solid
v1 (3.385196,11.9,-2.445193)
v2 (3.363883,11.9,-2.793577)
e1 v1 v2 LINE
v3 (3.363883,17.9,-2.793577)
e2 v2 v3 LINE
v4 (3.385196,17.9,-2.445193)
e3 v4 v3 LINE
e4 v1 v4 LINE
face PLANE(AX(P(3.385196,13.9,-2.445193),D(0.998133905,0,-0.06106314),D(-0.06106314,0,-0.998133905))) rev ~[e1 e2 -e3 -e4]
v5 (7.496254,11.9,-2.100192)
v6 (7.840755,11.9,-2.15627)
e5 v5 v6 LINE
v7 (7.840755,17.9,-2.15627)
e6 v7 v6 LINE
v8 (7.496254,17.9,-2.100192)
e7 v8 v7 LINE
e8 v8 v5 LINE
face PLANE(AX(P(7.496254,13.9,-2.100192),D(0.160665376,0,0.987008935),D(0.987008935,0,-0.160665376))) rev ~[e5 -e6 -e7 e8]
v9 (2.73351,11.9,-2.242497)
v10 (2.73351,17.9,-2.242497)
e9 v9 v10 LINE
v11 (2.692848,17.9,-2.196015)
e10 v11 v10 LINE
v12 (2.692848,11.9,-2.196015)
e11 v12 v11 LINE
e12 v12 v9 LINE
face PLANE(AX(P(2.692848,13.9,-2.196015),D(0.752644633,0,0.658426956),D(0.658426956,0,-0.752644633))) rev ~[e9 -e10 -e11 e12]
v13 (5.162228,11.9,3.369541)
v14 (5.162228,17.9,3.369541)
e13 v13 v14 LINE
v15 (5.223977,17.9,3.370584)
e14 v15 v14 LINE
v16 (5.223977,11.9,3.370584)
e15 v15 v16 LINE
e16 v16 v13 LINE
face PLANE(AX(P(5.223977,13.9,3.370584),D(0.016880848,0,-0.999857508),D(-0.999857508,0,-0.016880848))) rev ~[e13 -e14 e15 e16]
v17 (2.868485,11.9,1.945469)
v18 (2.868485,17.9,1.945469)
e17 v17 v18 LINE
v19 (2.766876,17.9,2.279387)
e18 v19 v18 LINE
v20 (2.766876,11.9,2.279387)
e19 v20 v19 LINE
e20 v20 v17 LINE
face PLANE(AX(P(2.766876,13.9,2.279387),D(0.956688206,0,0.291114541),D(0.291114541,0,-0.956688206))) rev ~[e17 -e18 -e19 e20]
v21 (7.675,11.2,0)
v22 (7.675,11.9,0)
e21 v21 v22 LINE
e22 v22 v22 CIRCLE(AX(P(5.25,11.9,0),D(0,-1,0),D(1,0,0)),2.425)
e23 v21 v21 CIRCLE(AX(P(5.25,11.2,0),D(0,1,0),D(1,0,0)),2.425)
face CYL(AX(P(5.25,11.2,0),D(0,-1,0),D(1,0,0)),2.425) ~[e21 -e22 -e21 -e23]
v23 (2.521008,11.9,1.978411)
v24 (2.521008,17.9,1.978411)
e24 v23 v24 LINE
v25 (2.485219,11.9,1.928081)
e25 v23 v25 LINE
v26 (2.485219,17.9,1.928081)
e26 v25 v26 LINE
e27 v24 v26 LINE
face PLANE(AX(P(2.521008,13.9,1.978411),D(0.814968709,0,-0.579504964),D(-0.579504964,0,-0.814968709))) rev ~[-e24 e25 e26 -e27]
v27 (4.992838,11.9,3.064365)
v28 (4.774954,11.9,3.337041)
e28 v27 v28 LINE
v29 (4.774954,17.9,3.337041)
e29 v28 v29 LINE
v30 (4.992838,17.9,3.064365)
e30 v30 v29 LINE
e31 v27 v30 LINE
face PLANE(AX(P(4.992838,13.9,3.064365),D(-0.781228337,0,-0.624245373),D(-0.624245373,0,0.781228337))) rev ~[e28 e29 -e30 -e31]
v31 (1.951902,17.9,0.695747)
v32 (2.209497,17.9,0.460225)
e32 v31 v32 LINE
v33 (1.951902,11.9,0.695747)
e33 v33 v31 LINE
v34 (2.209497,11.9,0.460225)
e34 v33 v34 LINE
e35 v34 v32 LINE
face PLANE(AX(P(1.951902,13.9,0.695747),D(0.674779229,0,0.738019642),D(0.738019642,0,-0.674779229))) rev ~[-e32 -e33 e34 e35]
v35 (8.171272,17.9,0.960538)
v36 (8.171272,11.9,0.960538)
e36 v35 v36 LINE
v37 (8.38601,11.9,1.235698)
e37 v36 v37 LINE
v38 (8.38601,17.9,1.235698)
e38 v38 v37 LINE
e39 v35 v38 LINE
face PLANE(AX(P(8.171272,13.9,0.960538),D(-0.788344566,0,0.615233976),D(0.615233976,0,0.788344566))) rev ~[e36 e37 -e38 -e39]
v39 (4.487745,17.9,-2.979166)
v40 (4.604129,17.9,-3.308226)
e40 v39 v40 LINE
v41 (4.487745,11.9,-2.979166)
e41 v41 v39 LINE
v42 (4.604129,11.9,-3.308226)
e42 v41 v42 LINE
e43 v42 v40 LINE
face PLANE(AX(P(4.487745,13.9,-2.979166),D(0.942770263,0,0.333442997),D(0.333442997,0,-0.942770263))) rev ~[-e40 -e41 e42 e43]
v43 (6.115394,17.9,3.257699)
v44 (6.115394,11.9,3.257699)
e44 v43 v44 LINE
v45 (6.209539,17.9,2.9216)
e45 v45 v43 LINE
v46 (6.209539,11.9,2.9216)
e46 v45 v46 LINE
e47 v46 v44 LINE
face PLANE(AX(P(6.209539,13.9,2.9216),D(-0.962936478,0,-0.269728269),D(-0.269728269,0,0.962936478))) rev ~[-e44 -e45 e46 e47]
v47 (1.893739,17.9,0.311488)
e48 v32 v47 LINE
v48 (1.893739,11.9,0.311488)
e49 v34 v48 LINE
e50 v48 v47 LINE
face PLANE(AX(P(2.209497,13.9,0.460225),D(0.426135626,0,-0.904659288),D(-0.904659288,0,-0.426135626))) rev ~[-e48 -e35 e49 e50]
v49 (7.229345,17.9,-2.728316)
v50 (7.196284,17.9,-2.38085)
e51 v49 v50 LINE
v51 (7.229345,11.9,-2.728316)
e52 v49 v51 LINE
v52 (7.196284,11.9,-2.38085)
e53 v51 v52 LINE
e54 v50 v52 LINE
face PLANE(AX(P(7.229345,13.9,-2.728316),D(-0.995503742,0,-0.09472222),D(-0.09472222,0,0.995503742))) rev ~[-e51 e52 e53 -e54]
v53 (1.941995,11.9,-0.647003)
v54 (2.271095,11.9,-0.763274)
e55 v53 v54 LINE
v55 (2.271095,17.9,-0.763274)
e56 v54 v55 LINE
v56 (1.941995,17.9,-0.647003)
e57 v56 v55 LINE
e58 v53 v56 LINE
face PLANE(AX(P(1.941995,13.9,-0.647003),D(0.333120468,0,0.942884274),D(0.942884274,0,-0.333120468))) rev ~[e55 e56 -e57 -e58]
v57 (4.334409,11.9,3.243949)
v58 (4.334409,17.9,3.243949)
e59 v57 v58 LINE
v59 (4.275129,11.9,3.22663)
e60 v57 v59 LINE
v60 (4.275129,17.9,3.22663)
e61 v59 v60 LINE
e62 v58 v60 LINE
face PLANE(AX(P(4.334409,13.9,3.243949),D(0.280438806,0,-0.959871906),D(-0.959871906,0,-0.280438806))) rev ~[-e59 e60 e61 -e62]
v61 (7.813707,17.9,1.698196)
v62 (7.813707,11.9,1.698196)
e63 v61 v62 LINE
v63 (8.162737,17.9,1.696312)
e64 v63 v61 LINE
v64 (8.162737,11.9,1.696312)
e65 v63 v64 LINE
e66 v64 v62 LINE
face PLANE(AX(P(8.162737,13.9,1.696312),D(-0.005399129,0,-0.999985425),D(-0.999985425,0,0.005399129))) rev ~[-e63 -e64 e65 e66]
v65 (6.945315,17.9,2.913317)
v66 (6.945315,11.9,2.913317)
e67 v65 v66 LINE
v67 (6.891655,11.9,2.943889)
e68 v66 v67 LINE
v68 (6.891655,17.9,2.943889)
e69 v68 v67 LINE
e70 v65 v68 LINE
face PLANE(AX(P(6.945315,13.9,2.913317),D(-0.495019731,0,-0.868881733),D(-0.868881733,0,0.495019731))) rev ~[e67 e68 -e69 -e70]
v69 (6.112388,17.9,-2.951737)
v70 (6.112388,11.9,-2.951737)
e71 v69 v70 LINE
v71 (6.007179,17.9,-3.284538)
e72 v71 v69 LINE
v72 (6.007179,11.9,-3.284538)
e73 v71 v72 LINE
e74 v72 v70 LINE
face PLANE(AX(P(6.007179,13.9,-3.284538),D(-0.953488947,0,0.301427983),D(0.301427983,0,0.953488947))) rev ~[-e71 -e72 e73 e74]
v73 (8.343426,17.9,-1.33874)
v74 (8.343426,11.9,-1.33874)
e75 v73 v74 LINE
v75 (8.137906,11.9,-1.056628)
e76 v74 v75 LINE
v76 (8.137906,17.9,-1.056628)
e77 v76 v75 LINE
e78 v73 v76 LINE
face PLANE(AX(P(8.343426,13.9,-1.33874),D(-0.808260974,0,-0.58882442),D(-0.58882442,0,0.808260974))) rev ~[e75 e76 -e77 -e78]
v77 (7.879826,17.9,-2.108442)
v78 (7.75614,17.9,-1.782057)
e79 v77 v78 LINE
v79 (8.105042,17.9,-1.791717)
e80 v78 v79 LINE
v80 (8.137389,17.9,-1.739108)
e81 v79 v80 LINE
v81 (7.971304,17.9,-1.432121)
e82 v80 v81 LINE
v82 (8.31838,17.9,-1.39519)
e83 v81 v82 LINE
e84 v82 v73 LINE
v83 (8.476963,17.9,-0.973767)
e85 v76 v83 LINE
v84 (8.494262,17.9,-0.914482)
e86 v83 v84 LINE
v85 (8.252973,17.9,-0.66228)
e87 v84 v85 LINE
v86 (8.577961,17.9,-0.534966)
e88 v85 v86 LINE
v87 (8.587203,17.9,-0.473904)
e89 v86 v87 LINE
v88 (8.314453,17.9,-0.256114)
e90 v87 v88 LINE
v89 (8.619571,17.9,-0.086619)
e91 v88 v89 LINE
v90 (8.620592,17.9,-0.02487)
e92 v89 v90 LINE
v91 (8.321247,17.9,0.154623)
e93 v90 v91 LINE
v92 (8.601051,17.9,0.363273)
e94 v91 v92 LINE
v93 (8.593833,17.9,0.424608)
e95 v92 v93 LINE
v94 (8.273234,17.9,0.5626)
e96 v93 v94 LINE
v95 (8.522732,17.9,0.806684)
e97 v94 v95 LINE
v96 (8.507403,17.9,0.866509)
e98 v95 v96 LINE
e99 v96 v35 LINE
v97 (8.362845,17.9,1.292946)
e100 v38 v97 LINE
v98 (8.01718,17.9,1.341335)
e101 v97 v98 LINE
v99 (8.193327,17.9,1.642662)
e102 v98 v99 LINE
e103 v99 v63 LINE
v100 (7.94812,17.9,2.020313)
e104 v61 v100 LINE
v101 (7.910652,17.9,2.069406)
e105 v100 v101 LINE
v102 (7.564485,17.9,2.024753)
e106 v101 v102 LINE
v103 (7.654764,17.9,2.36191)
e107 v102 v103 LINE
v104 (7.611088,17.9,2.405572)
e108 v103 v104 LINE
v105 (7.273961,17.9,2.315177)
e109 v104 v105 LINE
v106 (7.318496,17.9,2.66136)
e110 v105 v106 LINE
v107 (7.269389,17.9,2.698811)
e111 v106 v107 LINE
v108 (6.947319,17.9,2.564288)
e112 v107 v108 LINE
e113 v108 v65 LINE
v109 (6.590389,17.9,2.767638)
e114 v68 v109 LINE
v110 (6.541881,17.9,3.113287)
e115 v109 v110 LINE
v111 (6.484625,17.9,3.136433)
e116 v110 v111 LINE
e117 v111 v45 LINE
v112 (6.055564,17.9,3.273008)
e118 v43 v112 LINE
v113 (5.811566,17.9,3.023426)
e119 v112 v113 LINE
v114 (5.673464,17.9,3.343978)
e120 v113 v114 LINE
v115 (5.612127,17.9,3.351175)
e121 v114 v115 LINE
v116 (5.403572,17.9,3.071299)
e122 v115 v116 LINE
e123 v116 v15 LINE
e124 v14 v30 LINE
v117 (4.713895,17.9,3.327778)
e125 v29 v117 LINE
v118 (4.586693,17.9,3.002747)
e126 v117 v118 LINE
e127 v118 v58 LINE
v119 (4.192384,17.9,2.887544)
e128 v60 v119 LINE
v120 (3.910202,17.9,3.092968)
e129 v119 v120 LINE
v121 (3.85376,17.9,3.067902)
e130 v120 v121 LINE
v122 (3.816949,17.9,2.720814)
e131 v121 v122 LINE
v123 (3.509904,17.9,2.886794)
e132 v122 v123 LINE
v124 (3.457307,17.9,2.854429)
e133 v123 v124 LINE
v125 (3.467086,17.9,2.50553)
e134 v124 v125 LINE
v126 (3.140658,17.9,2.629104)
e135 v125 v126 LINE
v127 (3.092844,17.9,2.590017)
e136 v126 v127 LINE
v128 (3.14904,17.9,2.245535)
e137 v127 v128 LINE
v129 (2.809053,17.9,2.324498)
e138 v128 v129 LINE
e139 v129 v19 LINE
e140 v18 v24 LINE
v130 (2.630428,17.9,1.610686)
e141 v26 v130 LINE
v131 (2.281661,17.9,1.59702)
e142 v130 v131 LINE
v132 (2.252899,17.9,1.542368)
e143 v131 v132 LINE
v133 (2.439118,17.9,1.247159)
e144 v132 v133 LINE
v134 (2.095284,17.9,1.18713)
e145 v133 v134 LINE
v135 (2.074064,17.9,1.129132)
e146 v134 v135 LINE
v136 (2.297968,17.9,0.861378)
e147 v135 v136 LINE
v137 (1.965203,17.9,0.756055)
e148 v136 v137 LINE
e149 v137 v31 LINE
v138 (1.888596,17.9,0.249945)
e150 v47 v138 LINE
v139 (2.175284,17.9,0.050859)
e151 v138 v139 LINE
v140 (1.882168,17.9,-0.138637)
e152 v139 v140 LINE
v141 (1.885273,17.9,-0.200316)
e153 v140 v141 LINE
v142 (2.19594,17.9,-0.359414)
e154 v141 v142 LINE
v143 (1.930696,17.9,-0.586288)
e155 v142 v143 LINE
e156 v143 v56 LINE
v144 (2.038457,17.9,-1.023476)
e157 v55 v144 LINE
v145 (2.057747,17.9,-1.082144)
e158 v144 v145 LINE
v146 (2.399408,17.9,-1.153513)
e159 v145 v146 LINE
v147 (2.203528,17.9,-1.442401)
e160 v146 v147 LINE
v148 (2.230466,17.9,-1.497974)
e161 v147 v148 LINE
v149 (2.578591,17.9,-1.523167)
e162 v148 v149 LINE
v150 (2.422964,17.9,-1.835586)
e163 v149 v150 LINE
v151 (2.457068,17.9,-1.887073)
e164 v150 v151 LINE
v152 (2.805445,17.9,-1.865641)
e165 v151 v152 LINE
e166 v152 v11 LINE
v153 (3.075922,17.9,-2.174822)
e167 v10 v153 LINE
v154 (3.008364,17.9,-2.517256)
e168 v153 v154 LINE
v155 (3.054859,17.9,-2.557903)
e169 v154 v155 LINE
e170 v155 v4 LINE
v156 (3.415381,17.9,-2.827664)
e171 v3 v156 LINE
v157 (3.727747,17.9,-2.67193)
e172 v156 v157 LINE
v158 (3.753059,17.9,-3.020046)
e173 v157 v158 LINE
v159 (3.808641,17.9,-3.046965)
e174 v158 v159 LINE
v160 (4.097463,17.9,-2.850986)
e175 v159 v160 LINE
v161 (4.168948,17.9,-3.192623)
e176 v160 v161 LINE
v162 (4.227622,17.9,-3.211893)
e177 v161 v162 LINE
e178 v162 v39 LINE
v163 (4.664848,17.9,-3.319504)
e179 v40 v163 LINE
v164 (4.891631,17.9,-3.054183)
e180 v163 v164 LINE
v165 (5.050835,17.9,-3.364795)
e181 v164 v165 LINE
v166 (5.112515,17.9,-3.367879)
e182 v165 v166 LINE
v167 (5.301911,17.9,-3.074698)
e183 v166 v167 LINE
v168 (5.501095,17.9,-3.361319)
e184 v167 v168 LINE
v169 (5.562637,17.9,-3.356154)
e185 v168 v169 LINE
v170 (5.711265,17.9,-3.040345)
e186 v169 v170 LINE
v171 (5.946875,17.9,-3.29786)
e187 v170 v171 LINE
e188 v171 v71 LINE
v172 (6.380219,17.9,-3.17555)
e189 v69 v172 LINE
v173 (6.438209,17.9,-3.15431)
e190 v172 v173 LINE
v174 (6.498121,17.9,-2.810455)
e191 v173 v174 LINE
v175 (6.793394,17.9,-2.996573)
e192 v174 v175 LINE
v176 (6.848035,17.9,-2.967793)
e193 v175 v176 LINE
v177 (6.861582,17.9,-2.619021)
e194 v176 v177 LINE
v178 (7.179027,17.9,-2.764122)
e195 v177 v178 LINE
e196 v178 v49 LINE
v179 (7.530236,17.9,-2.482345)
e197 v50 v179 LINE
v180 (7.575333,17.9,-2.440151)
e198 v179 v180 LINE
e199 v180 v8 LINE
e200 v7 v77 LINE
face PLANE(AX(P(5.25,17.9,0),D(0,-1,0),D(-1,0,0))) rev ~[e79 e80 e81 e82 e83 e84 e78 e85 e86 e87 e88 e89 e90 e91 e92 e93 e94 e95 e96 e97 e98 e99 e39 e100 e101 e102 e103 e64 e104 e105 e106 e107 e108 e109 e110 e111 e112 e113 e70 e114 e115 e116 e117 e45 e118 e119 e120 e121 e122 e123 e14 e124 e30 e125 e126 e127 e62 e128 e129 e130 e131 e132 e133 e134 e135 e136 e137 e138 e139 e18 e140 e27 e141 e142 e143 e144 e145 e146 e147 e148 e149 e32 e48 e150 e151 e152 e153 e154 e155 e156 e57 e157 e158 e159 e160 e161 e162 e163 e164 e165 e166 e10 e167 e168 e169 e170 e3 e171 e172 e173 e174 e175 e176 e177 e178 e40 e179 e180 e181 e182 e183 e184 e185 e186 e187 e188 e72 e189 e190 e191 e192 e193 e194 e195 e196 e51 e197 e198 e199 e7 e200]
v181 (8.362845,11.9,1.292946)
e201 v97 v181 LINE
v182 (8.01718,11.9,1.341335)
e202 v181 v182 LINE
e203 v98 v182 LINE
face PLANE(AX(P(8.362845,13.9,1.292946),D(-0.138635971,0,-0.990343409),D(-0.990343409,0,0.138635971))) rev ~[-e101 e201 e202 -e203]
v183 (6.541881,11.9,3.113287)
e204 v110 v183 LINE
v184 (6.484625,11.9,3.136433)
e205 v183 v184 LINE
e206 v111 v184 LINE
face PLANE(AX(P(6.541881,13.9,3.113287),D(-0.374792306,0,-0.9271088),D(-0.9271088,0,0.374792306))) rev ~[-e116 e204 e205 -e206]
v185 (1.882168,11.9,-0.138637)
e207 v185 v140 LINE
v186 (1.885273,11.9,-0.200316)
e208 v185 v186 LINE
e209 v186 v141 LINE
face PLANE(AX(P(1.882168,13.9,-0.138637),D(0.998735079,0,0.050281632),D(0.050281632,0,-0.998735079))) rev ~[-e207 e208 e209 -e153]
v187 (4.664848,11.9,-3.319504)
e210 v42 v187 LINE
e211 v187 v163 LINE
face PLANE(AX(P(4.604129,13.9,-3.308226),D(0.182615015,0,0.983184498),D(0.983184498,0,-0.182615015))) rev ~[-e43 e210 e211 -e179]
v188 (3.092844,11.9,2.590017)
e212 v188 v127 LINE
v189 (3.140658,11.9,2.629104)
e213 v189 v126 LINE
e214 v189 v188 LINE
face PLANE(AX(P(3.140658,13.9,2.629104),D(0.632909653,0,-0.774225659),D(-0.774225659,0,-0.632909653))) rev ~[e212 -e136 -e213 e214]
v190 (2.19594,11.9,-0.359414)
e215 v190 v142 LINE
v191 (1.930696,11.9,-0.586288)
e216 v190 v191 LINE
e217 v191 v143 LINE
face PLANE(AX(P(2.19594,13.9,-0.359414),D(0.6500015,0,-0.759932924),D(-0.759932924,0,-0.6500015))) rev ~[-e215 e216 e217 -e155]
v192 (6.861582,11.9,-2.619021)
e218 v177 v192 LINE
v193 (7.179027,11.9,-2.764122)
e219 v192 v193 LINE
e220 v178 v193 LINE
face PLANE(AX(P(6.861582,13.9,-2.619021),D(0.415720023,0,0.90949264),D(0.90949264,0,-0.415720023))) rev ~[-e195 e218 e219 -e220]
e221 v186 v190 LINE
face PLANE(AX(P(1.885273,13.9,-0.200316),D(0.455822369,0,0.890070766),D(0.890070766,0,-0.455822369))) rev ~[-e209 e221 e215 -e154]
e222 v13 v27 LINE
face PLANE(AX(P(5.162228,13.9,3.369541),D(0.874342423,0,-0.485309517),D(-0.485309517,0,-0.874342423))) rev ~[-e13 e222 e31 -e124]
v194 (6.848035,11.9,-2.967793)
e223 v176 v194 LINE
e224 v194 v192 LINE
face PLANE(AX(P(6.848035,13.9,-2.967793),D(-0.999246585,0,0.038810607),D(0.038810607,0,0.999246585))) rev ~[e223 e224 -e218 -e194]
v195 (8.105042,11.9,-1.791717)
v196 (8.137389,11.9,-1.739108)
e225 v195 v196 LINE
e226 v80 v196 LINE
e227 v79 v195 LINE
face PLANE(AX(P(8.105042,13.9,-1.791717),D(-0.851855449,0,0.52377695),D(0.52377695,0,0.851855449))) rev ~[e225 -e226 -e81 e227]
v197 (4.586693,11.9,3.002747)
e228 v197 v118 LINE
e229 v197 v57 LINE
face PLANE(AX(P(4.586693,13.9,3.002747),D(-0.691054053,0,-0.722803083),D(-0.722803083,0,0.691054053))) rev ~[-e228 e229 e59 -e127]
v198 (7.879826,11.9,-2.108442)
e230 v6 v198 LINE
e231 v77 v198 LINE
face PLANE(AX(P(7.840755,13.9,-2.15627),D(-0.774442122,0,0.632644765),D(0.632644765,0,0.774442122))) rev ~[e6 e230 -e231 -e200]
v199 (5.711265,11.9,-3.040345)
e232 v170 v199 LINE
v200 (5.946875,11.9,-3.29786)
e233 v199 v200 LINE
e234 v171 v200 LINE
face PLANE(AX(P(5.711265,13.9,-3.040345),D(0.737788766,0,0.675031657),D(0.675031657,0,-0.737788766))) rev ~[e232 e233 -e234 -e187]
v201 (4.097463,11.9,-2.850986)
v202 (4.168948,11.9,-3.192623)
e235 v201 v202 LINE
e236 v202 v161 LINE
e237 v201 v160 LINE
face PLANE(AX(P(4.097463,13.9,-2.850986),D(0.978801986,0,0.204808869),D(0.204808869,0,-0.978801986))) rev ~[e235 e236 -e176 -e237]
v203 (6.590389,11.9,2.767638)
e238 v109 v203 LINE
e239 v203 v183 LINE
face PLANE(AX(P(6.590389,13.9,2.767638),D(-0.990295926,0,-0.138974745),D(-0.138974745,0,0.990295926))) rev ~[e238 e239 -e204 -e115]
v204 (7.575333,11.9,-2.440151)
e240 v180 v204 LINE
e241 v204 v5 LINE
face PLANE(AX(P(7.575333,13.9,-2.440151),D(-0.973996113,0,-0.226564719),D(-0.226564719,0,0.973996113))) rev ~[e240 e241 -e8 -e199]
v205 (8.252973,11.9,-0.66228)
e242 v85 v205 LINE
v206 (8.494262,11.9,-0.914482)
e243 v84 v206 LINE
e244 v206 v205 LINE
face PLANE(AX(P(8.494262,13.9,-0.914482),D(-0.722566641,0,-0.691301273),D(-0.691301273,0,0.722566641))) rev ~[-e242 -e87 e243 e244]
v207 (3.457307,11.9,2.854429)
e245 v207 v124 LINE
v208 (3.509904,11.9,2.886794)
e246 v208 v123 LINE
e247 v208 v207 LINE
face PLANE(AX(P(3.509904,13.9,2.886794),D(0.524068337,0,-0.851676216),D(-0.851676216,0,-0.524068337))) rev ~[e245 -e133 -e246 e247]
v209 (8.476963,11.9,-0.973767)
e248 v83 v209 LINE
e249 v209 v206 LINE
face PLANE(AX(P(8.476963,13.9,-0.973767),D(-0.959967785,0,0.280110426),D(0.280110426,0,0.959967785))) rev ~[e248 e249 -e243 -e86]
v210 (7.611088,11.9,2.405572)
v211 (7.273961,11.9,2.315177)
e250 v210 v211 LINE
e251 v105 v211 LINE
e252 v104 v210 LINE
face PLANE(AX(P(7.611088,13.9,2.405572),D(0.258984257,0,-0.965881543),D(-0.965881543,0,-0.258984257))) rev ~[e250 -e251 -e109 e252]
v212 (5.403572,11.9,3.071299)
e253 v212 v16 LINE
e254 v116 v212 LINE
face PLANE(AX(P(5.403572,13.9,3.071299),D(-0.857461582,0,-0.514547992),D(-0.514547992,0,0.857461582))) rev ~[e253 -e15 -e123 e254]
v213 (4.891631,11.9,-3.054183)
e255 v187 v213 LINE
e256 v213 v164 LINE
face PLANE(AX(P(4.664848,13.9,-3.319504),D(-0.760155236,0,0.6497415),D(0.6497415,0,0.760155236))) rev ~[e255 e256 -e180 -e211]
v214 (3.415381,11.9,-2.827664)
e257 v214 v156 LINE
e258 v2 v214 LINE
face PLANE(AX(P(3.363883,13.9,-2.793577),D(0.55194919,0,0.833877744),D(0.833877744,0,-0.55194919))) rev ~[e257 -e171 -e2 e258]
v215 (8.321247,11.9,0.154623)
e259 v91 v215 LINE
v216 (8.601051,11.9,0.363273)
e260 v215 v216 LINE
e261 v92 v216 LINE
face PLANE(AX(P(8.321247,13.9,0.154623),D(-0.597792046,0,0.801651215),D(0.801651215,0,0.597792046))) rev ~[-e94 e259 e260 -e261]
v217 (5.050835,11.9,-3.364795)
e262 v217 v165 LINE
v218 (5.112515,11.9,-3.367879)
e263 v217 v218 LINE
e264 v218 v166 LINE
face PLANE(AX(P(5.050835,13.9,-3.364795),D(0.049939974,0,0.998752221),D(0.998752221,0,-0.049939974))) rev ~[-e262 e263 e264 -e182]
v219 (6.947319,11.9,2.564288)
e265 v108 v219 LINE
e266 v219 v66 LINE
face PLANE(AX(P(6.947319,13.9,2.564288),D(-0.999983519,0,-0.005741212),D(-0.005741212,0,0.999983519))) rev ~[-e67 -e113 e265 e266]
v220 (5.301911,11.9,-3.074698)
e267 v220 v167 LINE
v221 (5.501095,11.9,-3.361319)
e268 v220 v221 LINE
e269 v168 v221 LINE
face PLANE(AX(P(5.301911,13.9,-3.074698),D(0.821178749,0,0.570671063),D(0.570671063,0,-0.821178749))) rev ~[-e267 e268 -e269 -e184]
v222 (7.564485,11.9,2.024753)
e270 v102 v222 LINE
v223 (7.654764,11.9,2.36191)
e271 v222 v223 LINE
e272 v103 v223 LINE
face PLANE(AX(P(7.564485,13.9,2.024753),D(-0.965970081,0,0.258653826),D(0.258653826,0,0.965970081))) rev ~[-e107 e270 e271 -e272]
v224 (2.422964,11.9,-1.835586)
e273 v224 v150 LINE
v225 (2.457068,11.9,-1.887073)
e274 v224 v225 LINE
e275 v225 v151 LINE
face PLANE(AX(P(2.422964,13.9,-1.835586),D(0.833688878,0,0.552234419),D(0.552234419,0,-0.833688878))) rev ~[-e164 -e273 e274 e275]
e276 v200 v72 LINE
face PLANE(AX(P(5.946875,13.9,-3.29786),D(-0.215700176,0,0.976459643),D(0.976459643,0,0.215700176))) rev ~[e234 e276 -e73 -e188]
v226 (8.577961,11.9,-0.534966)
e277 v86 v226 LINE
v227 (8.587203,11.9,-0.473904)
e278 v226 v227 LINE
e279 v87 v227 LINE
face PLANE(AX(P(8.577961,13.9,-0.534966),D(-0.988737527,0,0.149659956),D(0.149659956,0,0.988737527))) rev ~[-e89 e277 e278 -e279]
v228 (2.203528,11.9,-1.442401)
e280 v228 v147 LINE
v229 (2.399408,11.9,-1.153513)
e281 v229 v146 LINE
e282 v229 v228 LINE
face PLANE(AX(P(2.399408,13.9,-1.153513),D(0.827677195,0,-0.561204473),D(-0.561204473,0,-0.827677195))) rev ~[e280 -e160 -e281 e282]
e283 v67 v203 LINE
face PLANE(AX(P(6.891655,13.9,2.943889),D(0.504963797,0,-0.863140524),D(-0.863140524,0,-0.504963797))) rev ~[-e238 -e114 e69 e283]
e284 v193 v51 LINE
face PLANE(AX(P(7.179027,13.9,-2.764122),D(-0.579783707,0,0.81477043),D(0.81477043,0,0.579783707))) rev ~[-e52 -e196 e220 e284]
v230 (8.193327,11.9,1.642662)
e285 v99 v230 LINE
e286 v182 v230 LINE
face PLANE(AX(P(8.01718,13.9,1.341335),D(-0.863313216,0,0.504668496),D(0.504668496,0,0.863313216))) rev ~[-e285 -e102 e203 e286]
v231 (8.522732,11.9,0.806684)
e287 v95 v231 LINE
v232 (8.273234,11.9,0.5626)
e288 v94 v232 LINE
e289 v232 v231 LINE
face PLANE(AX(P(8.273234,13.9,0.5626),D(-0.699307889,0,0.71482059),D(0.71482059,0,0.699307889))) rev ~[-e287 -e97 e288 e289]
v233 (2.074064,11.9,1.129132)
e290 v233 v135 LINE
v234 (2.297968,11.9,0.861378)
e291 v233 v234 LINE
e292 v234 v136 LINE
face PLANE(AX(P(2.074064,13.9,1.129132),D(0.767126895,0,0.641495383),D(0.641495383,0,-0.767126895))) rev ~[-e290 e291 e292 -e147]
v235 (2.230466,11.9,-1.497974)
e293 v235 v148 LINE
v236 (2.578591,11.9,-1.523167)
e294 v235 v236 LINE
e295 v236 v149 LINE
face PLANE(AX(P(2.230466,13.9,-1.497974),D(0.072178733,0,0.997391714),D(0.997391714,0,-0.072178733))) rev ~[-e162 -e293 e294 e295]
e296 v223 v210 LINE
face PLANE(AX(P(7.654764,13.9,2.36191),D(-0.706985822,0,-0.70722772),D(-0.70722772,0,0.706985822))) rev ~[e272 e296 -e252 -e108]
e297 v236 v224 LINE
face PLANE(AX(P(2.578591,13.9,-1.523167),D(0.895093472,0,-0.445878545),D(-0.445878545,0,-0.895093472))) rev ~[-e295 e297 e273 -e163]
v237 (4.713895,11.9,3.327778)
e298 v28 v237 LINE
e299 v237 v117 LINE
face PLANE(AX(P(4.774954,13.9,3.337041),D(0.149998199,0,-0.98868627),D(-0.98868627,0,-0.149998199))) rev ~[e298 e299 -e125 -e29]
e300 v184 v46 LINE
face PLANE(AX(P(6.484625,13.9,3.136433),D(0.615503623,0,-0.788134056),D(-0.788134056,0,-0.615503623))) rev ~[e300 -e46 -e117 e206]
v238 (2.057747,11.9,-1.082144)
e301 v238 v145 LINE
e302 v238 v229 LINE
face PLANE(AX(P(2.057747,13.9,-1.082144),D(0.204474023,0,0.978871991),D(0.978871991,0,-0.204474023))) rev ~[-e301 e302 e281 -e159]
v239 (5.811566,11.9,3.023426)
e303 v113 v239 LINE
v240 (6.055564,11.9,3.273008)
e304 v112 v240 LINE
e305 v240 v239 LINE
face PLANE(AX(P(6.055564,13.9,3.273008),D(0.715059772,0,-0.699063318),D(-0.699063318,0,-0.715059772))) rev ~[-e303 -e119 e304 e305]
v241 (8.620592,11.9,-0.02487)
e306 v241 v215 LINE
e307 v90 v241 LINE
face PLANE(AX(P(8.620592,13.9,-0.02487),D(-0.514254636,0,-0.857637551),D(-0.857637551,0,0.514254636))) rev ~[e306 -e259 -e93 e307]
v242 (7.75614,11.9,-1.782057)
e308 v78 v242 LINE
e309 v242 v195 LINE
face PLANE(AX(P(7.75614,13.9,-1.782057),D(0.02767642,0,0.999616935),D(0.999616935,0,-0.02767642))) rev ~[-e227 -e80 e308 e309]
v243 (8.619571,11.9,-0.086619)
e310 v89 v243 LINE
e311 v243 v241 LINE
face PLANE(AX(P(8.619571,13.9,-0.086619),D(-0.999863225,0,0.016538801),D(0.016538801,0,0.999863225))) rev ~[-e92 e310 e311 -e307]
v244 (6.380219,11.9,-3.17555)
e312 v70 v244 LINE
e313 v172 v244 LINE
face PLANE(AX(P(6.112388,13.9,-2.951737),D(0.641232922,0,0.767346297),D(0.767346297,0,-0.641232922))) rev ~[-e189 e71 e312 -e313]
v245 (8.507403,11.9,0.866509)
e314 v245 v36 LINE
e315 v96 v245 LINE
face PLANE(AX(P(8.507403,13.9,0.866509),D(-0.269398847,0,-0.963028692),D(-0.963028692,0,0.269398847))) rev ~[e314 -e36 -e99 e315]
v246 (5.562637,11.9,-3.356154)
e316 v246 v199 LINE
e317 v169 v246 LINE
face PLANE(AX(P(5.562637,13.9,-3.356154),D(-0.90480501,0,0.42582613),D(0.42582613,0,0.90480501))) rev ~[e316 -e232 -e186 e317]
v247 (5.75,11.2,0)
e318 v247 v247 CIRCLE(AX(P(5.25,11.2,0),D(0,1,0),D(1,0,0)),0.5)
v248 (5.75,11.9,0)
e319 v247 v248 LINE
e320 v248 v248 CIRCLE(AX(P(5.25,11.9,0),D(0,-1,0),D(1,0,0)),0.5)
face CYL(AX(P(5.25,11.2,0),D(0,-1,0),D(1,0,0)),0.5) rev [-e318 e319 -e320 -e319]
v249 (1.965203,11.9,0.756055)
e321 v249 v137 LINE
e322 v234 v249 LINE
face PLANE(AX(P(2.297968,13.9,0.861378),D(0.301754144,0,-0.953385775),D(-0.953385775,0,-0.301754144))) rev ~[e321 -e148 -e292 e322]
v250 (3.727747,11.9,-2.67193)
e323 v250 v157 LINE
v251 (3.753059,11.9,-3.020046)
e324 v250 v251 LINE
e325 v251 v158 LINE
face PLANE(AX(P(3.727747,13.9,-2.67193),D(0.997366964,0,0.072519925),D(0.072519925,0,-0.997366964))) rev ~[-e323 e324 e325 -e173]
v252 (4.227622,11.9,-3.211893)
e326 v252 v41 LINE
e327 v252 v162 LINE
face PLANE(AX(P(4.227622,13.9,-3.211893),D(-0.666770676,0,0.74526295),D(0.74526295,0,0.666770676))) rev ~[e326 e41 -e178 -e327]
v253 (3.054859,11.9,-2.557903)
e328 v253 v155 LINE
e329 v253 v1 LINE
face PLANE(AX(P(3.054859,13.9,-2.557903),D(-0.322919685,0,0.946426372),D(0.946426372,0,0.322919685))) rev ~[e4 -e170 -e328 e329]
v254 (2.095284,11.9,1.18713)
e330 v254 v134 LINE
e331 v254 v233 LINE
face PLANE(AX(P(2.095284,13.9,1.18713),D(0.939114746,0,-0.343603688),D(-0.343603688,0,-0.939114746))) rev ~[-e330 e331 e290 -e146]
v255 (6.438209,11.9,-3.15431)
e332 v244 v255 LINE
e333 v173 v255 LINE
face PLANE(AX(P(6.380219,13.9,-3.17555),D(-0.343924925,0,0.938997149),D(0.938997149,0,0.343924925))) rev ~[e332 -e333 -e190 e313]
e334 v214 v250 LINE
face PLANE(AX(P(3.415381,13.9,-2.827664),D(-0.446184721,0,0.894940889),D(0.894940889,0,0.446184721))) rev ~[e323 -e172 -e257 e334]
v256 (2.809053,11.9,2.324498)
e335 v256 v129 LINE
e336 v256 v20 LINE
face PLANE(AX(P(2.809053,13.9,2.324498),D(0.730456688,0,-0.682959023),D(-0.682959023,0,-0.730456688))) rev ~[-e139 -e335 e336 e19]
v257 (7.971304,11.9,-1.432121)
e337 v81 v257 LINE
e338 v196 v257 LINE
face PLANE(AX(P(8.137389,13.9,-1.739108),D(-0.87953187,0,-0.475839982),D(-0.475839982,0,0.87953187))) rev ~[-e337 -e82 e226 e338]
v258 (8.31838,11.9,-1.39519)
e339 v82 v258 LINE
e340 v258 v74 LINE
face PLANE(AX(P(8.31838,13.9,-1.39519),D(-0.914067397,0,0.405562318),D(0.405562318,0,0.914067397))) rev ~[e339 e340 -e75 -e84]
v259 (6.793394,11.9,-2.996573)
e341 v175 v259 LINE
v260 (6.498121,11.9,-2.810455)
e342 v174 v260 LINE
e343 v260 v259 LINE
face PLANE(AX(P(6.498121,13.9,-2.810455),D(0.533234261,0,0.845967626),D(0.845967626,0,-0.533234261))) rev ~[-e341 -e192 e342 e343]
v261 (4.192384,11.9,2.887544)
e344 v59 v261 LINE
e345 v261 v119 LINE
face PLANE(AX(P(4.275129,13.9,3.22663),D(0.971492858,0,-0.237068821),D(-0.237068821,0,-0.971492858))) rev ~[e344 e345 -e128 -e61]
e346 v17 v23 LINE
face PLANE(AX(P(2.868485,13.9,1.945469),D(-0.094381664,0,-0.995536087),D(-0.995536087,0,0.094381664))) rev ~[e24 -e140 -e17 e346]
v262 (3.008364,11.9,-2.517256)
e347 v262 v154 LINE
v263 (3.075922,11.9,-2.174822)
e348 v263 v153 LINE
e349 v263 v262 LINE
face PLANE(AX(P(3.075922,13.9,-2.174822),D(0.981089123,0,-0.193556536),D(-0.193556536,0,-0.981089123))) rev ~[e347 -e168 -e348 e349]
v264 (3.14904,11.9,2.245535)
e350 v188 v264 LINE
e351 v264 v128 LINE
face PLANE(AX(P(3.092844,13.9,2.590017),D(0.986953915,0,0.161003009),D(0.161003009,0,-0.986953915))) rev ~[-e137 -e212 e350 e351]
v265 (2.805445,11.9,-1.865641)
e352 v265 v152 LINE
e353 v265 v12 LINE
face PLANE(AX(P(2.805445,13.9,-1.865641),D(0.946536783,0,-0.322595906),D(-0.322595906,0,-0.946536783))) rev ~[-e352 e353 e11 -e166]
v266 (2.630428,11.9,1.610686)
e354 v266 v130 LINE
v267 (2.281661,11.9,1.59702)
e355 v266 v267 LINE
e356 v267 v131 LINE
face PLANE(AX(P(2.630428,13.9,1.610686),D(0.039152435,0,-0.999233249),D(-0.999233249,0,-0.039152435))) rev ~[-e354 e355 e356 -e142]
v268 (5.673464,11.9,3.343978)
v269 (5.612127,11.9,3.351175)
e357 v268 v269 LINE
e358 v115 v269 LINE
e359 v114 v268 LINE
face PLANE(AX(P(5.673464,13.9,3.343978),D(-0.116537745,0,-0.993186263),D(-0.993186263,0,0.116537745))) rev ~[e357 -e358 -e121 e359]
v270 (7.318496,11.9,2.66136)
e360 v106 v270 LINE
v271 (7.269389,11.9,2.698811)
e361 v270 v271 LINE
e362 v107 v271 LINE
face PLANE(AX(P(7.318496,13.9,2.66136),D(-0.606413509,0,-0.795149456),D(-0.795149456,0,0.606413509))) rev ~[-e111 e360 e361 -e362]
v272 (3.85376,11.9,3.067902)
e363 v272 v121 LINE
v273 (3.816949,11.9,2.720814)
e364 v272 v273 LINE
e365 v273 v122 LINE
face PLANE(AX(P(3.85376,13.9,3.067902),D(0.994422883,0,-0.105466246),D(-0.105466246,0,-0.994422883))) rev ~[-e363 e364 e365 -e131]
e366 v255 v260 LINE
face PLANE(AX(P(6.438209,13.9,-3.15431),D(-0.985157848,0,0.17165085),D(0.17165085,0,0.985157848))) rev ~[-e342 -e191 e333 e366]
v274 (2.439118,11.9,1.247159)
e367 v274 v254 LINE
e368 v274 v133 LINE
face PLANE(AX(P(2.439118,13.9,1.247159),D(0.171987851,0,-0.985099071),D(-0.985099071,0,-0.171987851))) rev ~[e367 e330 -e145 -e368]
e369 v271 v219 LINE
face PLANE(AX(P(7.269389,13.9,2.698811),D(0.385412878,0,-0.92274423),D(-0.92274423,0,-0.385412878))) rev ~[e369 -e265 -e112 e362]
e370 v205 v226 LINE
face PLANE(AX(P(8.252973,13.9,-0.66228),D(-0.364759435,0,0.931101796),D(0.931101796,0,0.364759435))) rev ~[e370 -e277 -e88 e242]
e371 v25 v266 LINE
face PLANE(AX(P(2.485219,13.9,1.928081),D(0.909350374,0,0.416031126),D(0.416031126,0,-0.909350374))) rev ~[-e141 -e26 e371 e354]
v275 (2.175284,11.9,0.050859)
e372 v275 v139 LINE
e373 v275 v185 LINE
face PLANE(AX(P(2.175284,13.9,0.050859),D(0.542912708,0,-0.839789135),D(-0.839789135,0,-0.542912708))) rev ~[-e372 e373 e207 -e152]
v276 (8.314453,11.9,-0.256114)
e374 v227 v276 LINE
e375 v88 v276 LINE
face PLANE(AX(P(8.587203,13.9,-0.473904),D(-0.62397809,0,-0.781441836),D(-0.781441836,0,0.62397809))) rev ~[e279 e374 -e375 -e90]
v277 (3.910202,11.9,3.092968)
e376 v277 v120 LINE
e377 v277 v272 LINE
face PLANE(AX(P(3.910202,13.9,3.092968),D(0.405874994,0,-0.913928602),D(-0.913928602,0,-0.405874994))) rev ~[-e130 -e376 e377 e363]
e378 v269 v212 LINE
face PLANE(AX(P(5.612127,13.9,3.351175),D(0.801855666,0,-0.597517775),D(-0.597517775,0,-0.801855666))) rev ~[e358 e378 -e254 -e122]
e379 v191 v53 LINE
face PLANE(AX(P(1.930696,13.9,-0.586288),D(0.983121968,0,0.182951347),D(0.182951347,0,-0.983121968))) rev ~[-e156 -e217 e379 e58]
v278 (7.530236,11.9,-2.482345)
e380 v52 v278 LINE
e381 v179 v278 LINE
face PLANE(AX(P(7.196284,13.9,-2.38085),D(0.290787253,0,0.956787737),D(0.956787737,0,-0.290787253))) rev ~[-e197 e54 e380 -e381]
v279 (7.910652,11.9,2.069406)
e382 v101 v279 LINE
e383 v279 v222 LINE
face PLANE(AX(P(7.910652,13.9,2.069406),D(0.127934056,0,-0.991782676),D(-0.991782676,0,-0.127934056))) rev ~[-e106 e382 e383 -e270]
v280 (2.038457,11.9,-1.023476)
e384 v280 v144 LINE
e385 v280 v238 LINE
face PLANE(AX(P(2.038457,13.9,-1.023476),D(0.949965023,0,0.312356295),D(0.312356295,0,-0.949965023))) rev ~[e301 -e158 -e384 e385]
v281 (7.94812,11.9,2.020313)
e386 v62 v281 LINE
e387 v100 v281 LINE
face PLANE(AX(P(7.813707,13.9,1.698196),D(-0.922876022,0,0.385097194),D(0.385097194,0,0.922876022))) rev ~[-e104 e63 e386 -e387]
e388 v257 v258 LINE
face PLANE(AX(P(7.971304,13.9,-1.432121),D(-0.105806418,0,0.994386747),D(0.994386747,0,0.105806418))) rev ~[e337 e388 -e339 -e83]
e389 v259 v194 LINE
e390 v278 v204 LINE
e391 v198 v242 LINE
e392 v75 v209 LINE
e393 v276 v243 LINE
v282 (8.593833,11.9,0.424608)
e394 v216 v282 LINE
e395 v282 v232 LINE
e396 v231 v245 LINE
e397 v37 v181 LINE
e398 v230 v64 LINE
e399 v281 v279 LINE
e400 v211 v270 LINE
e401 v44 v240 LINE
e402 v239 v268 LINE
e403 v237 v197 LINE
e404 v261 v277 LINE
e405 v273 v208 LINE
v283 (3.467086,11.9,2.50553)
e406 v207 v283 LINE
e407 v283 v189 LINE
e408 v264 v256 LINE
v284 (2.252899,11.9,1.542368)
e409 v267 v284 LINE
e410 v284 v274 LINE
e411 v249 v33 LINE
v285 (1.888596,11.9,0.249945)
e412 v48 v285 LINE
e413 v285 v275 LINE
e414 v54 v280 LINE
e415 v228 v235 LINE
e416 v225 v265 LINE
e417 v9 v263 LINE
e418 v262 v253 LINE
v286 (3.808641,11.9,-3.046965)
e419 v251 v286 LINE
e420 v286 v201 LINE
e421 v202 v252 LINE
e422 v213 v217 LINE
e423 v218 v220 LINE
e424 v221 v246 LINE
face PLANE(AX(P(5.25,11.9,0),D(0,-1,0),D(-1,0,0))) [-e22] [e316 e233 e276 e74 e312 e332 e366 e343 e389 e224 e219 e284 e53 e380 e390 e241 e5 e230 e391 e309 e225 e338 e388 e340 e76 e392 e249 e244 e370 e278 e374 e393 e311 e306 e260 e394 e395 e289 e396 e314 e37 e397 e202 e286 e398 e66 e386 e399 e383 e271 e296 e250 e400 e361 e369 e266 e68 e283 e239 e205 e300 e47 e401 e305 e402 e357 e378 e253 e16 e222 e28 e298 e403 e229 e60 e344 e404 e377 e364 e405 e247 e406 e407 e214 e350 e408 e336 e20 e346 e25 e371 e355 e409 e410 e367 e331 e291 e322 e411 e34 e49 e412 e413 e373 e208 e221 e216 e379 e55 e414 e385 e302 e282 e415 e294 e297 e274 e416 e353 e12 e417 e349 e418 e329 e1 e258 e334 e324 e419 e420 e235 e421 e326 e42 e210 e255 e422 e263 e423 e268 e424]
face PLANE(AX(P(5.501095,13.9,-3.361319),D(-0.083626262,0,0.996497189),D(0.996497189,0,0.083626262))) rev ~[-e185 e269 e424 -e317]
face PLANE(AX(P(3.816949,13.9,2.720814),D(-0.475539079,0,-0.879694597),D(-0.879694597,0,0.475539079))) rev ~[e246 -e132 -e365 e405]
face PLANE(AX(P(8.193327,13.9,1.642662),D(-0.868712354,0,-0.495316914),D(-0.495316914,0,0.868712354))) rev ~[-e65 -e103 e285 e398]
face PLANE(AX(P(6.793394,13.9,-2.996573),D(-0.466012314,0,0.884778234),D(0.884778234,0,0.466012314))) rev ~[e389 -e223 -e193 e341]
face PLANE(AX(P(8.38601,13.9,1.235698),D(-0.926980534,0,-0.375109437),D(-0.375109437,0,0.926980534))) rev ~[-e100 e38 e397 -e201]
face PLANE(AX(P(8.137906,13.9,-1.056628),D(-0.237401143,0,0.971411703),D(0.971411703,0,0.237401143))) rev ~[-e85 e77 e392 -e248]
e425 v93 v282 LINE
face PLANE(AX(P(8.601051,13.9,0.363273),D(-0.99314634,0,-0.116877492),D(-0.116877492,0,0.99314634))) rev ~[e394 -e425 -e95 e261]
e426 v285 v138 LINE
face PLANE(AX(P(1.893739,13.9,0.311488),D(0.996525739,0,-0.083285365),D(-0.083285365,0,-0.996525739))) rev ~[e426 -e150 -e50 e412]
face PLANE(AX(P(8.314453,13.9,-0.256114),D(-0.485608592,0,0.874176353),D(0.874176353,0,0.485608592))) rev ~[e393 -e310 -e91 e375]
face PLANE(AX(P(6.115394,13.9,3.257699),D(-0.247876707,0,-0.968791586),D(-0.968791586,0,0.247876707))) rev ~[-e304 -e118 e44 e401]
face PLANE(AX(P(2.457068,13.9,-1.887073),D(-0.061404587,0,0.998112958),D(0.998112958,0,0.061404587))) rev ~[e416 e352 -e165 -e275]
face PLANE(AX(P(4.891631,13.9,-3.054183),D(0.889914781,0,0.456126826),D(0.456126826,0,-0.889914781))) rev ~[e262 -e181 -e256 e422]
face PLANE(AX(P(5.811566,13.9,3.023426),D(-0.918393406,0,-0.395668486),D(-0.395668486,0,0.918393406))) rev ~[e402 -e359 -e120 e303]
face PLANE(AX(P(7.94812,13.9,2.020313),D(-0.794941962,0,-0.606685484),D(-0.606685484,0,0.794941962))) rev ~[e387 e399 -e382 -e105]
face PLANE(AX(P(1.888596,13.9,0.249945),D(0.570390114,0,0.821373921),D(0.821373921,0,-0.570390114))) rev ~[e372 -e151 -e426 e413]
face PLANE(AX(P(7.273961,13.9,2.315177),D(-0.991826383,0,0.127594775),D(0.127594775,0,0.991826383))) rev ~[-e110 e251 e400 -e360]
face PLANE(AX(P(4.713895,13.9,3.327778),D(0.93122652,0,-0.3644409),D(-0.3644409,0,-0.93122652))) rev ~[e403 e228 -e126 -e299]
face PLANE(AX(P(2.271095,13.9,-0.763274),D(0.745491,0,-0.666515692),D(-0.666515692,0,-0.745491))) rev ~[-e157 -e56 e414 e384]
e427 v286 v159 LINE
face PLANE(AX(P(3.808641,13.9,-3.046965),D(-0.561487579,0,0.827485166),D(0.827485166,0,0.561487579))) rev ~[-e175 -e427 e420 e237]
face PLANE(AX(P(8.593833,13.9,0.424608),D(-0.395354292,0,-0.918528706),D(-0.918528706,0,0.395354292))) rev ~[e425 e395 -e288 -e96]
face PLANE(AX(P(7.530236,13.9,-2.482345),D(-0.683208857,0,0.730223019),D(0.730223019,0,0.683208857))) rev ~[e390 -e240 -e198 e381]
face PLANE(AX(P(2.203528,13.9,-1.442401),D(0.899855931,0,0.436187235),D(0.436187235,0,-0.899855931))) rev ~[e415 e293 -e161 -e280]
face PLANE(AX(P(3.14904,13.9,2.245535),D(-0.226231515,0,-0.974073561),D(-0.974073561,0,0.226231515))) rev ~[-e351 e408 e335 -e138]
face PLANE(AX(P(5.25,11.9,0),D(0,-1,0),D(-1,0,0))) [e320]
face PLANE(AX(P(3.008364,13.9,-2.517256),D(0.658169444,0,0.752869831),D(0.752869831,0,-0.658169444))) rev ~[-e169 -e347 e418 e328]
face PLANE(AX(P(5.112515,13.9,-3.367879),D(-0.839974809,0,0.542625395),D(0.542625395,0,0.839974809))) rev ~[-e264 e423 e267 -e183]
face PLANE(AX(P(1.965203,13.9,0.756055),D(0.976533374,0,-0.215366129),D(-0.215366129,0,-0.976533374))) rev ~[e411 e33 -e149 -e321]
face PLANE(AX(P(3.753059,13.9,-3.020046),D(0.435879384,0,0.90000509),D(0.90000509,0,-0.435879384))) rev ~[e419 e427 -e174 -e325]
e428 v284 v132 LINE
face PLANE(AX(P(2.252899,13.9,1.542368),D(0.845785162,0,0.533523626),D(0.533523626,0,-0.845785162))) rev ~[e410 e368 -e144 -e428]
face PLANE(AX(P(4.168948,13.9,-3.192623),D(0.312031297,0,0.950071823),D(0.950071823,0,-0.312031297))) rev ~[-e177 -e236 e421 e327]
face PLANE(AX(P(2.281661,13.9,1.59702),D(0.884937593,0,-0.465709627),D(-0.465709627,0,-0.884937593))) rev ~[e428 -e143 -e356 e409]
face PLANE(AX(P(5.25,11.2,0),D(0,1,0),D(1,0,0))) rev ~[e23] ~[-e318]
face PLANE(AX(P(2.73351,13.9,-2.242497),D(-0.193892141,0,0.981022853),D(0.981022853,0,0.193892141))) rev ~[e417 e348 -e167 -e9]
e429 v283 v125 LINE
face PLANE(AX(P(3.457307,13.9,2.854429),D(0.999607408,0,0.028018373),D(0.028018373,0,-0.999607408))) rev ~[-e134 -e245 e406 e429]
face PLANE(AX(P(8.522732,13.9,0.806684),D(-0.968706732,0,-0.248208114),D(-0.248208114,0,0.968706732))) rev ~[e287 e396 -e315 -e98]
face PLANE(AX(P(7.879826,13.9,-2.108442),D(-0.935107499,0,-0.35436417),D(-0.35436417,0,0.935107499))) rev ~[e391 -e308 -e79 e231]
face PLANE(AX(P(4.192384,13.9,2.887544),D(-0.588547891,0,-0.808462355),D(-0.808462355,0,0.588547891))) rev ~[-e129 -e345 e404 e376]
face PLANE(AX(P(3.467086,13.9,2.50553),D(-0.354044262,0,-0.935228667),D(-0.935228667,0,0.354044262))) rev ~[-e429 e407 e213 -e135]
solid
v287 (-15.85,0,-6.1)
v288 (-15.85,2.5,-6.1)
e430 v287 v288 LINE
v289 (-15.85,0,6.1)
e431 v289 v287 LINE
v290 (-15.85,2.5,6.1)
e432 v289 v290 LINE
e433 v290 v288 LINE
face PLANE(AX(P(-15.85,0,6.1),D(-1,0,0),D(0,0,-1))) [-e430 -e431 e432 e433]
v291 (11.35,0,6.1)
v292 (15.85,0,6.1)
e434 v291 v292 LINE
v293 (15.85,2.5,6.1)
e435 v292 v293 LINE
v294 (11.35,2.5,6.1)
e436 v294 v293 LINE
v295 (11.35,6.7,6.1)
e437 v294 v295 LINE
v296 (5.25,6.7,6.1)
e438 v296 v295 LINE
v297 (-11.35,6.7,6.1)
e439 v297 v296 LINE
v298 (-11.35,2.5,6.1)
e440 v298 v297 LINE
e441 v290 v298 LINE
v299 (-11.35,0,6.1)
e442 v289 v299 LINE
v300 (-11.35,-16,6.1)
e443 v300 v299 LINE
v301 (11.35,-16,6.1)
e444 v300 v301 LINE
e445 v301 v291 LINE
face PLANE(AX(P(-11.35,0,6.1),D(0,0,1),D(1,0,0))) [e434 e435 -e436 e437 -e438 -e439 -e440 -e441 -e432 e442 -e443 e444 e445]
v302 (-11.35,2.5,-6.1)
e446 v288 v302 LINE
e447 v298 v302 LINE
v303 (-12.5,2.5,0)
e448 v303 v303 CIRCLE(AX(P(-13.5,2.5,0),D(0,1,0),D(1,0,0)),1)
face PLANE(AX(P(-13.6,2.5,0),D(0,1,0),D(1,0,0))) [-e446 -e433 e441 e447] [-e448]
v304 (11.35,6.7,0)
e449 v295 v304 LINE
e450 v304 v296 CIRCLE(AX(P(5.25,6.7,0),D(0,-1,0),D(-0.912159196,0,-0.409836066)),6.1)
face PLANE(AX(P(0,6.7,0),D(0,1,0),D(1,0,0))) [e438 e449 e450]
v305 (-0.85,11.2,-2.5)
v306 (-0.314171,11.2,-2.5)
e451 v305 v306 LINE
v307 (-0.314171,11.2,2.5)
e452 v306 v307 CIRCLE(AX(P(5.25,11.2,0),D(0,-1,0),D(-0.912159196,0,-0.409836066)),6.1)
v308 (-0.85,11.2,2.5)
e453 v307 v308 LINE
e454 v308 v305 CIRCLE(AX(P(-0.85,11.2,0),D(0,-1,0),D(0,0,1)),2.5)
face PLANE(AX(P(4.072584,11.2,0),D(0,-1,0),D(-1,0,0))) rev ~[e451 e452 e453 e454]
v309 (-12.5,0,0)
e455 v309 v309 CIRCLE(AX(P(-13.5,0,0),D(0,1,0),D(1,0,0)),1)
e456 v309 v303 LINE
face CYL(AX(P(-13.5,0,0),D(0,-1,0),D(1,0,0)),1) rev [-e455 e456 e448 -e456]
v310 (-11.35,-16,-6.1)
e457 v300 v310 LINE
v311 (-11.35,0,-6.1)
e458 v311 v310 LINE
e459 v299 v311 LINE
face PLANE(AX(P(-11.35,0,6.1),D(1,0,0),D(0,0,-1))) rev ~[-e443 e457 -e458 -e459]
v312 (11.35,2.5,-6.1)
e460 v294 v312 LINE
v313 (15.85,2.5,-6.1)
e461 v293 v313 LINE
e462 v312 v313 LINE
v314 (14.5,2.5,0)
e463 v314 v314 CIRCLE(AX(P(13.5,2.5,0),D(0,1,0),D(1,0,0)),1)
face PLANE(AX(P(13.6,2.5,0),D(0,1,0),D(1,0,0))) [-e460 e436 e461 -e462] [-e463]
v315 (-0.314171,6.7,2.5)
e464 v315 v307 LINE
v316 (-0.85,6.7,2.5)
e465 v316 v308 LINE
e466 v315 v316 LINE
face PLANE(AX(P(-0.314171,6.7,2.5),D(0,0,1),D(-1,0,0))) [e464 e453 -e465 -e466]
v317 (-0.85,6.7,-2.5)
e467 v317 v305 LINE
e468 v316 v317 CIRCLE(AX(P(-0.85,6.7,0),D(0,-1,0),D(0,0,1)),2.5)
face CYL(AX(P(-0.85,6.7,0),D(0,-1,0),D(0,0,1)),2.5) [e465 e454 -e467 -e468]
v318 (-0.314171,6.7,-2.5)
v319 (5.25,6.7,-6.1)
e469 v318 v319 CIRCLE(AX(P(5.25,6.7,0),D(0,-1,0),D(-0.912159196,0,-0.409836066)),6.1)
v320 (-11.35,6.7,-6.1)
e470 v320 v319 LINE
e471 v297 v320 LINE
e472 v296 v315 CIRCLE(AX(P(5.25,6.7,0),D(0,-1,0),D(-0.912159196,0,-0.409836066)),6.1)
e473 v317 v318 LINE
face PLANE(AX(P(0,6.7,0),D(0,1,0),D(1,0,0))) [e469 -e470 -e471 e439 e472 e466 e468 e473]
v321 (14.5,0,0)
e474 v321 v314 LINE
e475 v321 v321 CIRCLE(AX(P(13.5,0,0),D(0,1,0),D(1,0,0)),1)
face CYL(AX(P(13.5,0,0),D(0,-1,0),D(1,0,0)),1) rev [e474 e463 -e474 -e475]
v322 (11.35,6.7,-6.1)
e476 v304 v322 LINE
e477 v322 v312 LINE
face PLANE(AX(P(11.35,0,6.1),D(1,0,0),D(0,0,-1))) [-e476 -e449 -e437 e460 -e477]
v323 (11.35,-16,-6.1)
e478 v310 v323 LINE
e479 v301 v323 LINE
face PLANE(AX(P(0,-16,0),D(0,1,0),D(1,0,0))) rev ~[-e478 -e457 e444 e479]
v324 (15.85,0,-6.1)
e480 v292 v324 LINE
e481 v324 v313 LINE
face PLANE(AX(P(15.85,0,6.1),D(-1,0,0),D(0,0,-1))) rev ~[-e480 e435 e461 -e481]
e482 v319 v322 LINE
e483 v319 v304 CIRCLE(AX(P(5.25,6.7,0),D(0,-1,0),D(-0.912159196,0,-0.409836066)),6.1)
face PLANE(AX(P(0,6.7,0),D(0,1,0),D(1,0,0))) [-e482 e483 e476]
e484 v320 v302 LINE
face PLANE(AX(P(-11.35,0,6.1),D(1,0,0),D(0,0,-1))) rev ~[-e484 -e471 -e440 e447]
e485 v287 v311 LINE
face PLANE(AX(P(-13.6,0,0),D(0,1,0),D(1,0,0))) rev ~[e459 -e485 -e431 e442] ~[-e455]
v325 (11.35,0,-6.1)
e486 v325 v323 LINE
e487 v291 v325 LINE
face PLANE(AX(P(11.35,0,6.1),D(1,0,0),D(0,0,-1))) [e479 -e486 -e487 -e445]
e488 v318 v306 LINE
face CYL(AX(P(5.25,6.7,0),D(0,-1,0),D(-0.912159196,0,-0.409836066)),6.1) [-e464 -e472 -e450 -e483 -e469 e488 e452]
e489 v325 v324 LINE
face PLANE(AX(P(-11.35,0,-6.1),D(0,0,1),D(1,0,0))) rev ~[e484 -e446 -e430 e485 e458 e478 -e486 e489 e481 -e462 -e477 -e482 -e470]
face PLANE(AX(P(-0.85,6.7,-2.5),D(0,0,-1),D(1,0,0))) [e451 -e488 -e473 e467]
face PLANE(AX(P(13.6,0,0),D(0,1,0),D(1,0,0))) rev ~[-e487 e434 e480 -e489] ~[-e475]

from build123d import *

# Parameters (mm, degrees)
SKETCH2_W                = 22.7
SKETCH2_H                = 12.2
BOSS_EXTRUDE1_DEPTH      = 6.7
BOSS_EXTRUDE1_DEPTH_BACK = 16
SKETCH3_W                = 4.5
SKETCH3_H                = 12.2
SKETCH3_R                = 1
BOSS_EXTRUDE2_DEPTH      = 2.5
BOSS_EXTRUDE3_DEPTH      = 4.5
SKETCH5_R                = 2.425
SKETCH5_R_2              = 0.5
BOSS_EXTRUDE4_DEPTH      = 2.7
BOSS_EXTRUDE5_DEPTH      = 4
BOSS_EXTRUDE5_DEPTH_BACK = 2


with BuildPart() as part:
    # Sketch2 → Boss-Extrude1 (new body, two sides)
    with BuildSketch(Plane(origin=(0, 0, 0), x_dir=(1, 0, 0), z_dir=(0, 1, 0))) as boss_extrude1_sk:
        Rectangle(SKETCH2_W, SKETCH2_H)
    extrude(amount=BOSS_EXTRUDE1_DEPTH)
    extrude(boss_extrude1_sk.sketch, amount=-BOSS_EXTRUDE1_DEPTH_BACK)

    # Sketch3 → Boss-Extrude2 (add)
    with BuildSketch(Plane(origin=(0, 0, 0), x_dir=(1, 0, 0), z_dir=(0, 1, 0))):
        with Locations((13.6, 0)):
            Rectangle(SKETCH3_W, SKETCH3_H)
        with Locations((13.5, 0)):
            Circle(SKETCH3_R, mode=Mode.SUBTRACT)
        with Locations((-13.6, 0)):
            Rectangle(SKETCH3_W, SKETCH3_H)
        with Locations((-13.5, 0)):
            Circle(SKETCH3_R, mode=Mode.SUBTRACT)
    extrude(amount=BOSS_EXTRUDE2_DEPTH)

    # Sketch4 → Boss-Extrude3 (add)
    with BuildSketch(Plane(origin=(0, 6.7, 0), x_dir=(1, 0, 0), z_dir=(0, 1, 0))):
        with BuildLine():
            Line((-0.85, 2.5), (-0.314171097, 2.5))
            ThreePointArc((-0.314171097, 2.5), (11.35, 0), (-0.314171097, -2.5))
            Line((-0.314171097, -2.5), (-0.85, -2.5))
            ThreePointArc((-0.85, -2.5), (-3.35, 0), (-0.85, 2.5))
        make_face()
    extrude(amount=BOSS_EXTRUDE3_DEPTH)


with BuildPart() as body_2:
    # Sketch5 → Boss-Extrude4 (new body)
    with BuildSketch(Plane(origin=(0, 11.2, 0), x_dir=(1, 0, 0), z_dir=(0, 1, 0))):
        with Locations((5.25, 0)):
            Circle(SKETCH5_R)
        with Locations((5.25, 0)):
            Circle(SKETCH5_R_2, mode=Mode.SUBTRACT)
    extrude(amount=BOSS_EXTRUDE4_DEPTH)

    # Sketch6 → Boss-Extrude5 (add, two sides)
    with BuildSketch(Plane(origin=(0, 13.9, 0), x_dir=(1, 0, 0), z_dir=(0, 1, 0))) as boss_extrude5_sk:
        Polygon((5.301910888, 3.074698231), (5.501095267, 3.36131865), (5.562636503, 3.356154096), (5.711264879, 3.040345155), (5.946874795, 3.297859521), (6.007178562, 3.284538404), (6.112387586, 2.951737048), (6.380218576, 3.175550011), (6.438208751, 3.154310046), (6.498120967, 2.810455124), (6.79339358, 2.996572735), (6.848035326, 2.967792951), (6.8615816, 2.619020561), (7.179026689, 2.764121548), (7.229344924, 2.72831552), (7.19628352, 2.380849514), (7.530236271, 2.482344547), (7.575333064, 2.440151234), (7.496253966, 2.100192151), (7.840754983, 2.156270048), (7.879825581, 2.108442391), (7.756139956, 1.78205681), (8.105041611, 1.791716859), (8.137388798, 1.739108344), (7.971303819, 1.432120622), (8.318379953, 1.395190441), (8.343426493, 1.338739867), (8.137905951, 1.056628209), (8.476962983, 0.973766816), (8.49426192, 0.914481546), (8.252973332, 0.662280239), (8.577960781, 0.534966299), (8.587203415, 0.47390428), (8.314452584, 0.256113864), (8.619571041, 0.086619295), (8.620592437, 0.024870181), (8.321246607, -0.15462287), (8.601051226, -0.363273431), (8.593833157, -0.424607728), (8.273234161, -0.562600355), (8.522731822, -0.806683535), (8.507403094, -0.866508501), (8.17127203, -0.960538224), (8.386010441, -1.235698352), (8.362844597, -1.292946409), (8.01717973, -1.341335265), (8.193326879, -1.642662102), (8.162737314, -1.696311659), (7.813707043, -1.698196146), (7.94811958, -2.020312509), (7.910652164, -2.069406186), (7.564484942, -2.024752677), (7.654764273, -2.361910391), (7.611087614, -2.405572111), (7.273960803, -2.315177448), (7.318495891, -2.661359925), (7.269389399, -2.698810545), (6.947319036, -2.564287823), (6.94531515, -2.913317429), (6.891655132, -2.943888641), (6.59038857, -2.767638421), (6.54188147, -3.113286715), (6.484625491, -3.136432974), (6.209538838, -2.921600446), (6.115394135, -3.257699325), (6.055563929, -3.273007586), (5.811566113, -3.023426442), (5.673463821, -3.343978214), (5.612127059, -3.351175301), (5.403572228, -3.071299321), (5.223976785, -3.370583732), (5.162228023, -3.369541212), (4.992837842, -3.064364791), (4.774954134, -3.337041104), (4.713895281, -3.327777581), (4.586692521, -3.002746599), (4.334408688, -3.243948898), (4.275129339, -3.226629681), (4.192383938, -2.887544323), (3.91020199, -3.092968347), (3.853759988, -3.067902497), (3.816948539, -2.72081375), (3.50990402, -2.886793703), (3.457306573, -2.85442852), (3.467085976, -2.50553019), (3.140658103, -2.629104156), (3.092843814, -2.590017199), (3.149039557, -2.245535386), (2.809053443, -2.324498184), (2.766875559, -2.27938696), (2.868484827, -1.945468949), (2.521007532, -1.978411487), (2.485218718, -1.928081006), (2.630428291, -1.610685573), (2.281660556, -1.597019989), (2.252899465, -1.542368401), (2.439118075, -1.247159474), (2.095283668, -1.187129633), (2.074063542, -1.129132196), (2.297968113, -0.861377785), (1.965202767, -0.756054919), (1.95190228, -0.695746599), (2.20949723, -0.460224789), (1.893739151, -0.311488388), (1.88859565, -0.249945389), (2.175284191, -0.050859071), (1.882168089, 0.138636661), (1.88527336, 0.200316104), (2.195939529, 0.359414228), (1.930696068, 0.586287735), (1.941994697, 0.64700295), (2.271094648, 0.763273772), (2.038457104, 1.023476491), (2.057747467, 1.082144014), (2.399408403, 1.153512678), (2.203528199, 1.442401284), (2.230466059, 1.497974192), (2.578591033, 1.523167122), (2.422963655, 1.835586393), (2.457068306, 1.887072985), (2.80544502, 1.865640613), (2.692847642, 2.196015419), (2.733510485, 2.242496916), (3.075922148, 2.174821703), (3.008364073, 2.517256497), (3.054859478, 2.557903437), (3.385195746, 2.445193049), (3.363882551, 2.793577074), (3.415380807, 2.82766411), (3.727746821, 2.671929866), (3.753058839, 3.020046202), (3.808640959, 3.04696505), (4.09746254, 2.850986032), (4.168948077, 3.192622534), (4.227622196, 3.211892826), (4.487745317, 2.979166284), (4.604128713, 3.308226441), (4.66484779, 3.319504299), (4.891630547, 3.054183244), (5.050834937, 3.364794968), (5.112515439, 3.367879139), align=None)
    extrude(amount=BOSS_EXTRUDE5_DEPTH)
    extrude(boss_extrude5_sk.sketch, amount=-BOSS_EXTRUDE5_DEPTH_BACK)


solid = Compound([part.part, body_2.part])
